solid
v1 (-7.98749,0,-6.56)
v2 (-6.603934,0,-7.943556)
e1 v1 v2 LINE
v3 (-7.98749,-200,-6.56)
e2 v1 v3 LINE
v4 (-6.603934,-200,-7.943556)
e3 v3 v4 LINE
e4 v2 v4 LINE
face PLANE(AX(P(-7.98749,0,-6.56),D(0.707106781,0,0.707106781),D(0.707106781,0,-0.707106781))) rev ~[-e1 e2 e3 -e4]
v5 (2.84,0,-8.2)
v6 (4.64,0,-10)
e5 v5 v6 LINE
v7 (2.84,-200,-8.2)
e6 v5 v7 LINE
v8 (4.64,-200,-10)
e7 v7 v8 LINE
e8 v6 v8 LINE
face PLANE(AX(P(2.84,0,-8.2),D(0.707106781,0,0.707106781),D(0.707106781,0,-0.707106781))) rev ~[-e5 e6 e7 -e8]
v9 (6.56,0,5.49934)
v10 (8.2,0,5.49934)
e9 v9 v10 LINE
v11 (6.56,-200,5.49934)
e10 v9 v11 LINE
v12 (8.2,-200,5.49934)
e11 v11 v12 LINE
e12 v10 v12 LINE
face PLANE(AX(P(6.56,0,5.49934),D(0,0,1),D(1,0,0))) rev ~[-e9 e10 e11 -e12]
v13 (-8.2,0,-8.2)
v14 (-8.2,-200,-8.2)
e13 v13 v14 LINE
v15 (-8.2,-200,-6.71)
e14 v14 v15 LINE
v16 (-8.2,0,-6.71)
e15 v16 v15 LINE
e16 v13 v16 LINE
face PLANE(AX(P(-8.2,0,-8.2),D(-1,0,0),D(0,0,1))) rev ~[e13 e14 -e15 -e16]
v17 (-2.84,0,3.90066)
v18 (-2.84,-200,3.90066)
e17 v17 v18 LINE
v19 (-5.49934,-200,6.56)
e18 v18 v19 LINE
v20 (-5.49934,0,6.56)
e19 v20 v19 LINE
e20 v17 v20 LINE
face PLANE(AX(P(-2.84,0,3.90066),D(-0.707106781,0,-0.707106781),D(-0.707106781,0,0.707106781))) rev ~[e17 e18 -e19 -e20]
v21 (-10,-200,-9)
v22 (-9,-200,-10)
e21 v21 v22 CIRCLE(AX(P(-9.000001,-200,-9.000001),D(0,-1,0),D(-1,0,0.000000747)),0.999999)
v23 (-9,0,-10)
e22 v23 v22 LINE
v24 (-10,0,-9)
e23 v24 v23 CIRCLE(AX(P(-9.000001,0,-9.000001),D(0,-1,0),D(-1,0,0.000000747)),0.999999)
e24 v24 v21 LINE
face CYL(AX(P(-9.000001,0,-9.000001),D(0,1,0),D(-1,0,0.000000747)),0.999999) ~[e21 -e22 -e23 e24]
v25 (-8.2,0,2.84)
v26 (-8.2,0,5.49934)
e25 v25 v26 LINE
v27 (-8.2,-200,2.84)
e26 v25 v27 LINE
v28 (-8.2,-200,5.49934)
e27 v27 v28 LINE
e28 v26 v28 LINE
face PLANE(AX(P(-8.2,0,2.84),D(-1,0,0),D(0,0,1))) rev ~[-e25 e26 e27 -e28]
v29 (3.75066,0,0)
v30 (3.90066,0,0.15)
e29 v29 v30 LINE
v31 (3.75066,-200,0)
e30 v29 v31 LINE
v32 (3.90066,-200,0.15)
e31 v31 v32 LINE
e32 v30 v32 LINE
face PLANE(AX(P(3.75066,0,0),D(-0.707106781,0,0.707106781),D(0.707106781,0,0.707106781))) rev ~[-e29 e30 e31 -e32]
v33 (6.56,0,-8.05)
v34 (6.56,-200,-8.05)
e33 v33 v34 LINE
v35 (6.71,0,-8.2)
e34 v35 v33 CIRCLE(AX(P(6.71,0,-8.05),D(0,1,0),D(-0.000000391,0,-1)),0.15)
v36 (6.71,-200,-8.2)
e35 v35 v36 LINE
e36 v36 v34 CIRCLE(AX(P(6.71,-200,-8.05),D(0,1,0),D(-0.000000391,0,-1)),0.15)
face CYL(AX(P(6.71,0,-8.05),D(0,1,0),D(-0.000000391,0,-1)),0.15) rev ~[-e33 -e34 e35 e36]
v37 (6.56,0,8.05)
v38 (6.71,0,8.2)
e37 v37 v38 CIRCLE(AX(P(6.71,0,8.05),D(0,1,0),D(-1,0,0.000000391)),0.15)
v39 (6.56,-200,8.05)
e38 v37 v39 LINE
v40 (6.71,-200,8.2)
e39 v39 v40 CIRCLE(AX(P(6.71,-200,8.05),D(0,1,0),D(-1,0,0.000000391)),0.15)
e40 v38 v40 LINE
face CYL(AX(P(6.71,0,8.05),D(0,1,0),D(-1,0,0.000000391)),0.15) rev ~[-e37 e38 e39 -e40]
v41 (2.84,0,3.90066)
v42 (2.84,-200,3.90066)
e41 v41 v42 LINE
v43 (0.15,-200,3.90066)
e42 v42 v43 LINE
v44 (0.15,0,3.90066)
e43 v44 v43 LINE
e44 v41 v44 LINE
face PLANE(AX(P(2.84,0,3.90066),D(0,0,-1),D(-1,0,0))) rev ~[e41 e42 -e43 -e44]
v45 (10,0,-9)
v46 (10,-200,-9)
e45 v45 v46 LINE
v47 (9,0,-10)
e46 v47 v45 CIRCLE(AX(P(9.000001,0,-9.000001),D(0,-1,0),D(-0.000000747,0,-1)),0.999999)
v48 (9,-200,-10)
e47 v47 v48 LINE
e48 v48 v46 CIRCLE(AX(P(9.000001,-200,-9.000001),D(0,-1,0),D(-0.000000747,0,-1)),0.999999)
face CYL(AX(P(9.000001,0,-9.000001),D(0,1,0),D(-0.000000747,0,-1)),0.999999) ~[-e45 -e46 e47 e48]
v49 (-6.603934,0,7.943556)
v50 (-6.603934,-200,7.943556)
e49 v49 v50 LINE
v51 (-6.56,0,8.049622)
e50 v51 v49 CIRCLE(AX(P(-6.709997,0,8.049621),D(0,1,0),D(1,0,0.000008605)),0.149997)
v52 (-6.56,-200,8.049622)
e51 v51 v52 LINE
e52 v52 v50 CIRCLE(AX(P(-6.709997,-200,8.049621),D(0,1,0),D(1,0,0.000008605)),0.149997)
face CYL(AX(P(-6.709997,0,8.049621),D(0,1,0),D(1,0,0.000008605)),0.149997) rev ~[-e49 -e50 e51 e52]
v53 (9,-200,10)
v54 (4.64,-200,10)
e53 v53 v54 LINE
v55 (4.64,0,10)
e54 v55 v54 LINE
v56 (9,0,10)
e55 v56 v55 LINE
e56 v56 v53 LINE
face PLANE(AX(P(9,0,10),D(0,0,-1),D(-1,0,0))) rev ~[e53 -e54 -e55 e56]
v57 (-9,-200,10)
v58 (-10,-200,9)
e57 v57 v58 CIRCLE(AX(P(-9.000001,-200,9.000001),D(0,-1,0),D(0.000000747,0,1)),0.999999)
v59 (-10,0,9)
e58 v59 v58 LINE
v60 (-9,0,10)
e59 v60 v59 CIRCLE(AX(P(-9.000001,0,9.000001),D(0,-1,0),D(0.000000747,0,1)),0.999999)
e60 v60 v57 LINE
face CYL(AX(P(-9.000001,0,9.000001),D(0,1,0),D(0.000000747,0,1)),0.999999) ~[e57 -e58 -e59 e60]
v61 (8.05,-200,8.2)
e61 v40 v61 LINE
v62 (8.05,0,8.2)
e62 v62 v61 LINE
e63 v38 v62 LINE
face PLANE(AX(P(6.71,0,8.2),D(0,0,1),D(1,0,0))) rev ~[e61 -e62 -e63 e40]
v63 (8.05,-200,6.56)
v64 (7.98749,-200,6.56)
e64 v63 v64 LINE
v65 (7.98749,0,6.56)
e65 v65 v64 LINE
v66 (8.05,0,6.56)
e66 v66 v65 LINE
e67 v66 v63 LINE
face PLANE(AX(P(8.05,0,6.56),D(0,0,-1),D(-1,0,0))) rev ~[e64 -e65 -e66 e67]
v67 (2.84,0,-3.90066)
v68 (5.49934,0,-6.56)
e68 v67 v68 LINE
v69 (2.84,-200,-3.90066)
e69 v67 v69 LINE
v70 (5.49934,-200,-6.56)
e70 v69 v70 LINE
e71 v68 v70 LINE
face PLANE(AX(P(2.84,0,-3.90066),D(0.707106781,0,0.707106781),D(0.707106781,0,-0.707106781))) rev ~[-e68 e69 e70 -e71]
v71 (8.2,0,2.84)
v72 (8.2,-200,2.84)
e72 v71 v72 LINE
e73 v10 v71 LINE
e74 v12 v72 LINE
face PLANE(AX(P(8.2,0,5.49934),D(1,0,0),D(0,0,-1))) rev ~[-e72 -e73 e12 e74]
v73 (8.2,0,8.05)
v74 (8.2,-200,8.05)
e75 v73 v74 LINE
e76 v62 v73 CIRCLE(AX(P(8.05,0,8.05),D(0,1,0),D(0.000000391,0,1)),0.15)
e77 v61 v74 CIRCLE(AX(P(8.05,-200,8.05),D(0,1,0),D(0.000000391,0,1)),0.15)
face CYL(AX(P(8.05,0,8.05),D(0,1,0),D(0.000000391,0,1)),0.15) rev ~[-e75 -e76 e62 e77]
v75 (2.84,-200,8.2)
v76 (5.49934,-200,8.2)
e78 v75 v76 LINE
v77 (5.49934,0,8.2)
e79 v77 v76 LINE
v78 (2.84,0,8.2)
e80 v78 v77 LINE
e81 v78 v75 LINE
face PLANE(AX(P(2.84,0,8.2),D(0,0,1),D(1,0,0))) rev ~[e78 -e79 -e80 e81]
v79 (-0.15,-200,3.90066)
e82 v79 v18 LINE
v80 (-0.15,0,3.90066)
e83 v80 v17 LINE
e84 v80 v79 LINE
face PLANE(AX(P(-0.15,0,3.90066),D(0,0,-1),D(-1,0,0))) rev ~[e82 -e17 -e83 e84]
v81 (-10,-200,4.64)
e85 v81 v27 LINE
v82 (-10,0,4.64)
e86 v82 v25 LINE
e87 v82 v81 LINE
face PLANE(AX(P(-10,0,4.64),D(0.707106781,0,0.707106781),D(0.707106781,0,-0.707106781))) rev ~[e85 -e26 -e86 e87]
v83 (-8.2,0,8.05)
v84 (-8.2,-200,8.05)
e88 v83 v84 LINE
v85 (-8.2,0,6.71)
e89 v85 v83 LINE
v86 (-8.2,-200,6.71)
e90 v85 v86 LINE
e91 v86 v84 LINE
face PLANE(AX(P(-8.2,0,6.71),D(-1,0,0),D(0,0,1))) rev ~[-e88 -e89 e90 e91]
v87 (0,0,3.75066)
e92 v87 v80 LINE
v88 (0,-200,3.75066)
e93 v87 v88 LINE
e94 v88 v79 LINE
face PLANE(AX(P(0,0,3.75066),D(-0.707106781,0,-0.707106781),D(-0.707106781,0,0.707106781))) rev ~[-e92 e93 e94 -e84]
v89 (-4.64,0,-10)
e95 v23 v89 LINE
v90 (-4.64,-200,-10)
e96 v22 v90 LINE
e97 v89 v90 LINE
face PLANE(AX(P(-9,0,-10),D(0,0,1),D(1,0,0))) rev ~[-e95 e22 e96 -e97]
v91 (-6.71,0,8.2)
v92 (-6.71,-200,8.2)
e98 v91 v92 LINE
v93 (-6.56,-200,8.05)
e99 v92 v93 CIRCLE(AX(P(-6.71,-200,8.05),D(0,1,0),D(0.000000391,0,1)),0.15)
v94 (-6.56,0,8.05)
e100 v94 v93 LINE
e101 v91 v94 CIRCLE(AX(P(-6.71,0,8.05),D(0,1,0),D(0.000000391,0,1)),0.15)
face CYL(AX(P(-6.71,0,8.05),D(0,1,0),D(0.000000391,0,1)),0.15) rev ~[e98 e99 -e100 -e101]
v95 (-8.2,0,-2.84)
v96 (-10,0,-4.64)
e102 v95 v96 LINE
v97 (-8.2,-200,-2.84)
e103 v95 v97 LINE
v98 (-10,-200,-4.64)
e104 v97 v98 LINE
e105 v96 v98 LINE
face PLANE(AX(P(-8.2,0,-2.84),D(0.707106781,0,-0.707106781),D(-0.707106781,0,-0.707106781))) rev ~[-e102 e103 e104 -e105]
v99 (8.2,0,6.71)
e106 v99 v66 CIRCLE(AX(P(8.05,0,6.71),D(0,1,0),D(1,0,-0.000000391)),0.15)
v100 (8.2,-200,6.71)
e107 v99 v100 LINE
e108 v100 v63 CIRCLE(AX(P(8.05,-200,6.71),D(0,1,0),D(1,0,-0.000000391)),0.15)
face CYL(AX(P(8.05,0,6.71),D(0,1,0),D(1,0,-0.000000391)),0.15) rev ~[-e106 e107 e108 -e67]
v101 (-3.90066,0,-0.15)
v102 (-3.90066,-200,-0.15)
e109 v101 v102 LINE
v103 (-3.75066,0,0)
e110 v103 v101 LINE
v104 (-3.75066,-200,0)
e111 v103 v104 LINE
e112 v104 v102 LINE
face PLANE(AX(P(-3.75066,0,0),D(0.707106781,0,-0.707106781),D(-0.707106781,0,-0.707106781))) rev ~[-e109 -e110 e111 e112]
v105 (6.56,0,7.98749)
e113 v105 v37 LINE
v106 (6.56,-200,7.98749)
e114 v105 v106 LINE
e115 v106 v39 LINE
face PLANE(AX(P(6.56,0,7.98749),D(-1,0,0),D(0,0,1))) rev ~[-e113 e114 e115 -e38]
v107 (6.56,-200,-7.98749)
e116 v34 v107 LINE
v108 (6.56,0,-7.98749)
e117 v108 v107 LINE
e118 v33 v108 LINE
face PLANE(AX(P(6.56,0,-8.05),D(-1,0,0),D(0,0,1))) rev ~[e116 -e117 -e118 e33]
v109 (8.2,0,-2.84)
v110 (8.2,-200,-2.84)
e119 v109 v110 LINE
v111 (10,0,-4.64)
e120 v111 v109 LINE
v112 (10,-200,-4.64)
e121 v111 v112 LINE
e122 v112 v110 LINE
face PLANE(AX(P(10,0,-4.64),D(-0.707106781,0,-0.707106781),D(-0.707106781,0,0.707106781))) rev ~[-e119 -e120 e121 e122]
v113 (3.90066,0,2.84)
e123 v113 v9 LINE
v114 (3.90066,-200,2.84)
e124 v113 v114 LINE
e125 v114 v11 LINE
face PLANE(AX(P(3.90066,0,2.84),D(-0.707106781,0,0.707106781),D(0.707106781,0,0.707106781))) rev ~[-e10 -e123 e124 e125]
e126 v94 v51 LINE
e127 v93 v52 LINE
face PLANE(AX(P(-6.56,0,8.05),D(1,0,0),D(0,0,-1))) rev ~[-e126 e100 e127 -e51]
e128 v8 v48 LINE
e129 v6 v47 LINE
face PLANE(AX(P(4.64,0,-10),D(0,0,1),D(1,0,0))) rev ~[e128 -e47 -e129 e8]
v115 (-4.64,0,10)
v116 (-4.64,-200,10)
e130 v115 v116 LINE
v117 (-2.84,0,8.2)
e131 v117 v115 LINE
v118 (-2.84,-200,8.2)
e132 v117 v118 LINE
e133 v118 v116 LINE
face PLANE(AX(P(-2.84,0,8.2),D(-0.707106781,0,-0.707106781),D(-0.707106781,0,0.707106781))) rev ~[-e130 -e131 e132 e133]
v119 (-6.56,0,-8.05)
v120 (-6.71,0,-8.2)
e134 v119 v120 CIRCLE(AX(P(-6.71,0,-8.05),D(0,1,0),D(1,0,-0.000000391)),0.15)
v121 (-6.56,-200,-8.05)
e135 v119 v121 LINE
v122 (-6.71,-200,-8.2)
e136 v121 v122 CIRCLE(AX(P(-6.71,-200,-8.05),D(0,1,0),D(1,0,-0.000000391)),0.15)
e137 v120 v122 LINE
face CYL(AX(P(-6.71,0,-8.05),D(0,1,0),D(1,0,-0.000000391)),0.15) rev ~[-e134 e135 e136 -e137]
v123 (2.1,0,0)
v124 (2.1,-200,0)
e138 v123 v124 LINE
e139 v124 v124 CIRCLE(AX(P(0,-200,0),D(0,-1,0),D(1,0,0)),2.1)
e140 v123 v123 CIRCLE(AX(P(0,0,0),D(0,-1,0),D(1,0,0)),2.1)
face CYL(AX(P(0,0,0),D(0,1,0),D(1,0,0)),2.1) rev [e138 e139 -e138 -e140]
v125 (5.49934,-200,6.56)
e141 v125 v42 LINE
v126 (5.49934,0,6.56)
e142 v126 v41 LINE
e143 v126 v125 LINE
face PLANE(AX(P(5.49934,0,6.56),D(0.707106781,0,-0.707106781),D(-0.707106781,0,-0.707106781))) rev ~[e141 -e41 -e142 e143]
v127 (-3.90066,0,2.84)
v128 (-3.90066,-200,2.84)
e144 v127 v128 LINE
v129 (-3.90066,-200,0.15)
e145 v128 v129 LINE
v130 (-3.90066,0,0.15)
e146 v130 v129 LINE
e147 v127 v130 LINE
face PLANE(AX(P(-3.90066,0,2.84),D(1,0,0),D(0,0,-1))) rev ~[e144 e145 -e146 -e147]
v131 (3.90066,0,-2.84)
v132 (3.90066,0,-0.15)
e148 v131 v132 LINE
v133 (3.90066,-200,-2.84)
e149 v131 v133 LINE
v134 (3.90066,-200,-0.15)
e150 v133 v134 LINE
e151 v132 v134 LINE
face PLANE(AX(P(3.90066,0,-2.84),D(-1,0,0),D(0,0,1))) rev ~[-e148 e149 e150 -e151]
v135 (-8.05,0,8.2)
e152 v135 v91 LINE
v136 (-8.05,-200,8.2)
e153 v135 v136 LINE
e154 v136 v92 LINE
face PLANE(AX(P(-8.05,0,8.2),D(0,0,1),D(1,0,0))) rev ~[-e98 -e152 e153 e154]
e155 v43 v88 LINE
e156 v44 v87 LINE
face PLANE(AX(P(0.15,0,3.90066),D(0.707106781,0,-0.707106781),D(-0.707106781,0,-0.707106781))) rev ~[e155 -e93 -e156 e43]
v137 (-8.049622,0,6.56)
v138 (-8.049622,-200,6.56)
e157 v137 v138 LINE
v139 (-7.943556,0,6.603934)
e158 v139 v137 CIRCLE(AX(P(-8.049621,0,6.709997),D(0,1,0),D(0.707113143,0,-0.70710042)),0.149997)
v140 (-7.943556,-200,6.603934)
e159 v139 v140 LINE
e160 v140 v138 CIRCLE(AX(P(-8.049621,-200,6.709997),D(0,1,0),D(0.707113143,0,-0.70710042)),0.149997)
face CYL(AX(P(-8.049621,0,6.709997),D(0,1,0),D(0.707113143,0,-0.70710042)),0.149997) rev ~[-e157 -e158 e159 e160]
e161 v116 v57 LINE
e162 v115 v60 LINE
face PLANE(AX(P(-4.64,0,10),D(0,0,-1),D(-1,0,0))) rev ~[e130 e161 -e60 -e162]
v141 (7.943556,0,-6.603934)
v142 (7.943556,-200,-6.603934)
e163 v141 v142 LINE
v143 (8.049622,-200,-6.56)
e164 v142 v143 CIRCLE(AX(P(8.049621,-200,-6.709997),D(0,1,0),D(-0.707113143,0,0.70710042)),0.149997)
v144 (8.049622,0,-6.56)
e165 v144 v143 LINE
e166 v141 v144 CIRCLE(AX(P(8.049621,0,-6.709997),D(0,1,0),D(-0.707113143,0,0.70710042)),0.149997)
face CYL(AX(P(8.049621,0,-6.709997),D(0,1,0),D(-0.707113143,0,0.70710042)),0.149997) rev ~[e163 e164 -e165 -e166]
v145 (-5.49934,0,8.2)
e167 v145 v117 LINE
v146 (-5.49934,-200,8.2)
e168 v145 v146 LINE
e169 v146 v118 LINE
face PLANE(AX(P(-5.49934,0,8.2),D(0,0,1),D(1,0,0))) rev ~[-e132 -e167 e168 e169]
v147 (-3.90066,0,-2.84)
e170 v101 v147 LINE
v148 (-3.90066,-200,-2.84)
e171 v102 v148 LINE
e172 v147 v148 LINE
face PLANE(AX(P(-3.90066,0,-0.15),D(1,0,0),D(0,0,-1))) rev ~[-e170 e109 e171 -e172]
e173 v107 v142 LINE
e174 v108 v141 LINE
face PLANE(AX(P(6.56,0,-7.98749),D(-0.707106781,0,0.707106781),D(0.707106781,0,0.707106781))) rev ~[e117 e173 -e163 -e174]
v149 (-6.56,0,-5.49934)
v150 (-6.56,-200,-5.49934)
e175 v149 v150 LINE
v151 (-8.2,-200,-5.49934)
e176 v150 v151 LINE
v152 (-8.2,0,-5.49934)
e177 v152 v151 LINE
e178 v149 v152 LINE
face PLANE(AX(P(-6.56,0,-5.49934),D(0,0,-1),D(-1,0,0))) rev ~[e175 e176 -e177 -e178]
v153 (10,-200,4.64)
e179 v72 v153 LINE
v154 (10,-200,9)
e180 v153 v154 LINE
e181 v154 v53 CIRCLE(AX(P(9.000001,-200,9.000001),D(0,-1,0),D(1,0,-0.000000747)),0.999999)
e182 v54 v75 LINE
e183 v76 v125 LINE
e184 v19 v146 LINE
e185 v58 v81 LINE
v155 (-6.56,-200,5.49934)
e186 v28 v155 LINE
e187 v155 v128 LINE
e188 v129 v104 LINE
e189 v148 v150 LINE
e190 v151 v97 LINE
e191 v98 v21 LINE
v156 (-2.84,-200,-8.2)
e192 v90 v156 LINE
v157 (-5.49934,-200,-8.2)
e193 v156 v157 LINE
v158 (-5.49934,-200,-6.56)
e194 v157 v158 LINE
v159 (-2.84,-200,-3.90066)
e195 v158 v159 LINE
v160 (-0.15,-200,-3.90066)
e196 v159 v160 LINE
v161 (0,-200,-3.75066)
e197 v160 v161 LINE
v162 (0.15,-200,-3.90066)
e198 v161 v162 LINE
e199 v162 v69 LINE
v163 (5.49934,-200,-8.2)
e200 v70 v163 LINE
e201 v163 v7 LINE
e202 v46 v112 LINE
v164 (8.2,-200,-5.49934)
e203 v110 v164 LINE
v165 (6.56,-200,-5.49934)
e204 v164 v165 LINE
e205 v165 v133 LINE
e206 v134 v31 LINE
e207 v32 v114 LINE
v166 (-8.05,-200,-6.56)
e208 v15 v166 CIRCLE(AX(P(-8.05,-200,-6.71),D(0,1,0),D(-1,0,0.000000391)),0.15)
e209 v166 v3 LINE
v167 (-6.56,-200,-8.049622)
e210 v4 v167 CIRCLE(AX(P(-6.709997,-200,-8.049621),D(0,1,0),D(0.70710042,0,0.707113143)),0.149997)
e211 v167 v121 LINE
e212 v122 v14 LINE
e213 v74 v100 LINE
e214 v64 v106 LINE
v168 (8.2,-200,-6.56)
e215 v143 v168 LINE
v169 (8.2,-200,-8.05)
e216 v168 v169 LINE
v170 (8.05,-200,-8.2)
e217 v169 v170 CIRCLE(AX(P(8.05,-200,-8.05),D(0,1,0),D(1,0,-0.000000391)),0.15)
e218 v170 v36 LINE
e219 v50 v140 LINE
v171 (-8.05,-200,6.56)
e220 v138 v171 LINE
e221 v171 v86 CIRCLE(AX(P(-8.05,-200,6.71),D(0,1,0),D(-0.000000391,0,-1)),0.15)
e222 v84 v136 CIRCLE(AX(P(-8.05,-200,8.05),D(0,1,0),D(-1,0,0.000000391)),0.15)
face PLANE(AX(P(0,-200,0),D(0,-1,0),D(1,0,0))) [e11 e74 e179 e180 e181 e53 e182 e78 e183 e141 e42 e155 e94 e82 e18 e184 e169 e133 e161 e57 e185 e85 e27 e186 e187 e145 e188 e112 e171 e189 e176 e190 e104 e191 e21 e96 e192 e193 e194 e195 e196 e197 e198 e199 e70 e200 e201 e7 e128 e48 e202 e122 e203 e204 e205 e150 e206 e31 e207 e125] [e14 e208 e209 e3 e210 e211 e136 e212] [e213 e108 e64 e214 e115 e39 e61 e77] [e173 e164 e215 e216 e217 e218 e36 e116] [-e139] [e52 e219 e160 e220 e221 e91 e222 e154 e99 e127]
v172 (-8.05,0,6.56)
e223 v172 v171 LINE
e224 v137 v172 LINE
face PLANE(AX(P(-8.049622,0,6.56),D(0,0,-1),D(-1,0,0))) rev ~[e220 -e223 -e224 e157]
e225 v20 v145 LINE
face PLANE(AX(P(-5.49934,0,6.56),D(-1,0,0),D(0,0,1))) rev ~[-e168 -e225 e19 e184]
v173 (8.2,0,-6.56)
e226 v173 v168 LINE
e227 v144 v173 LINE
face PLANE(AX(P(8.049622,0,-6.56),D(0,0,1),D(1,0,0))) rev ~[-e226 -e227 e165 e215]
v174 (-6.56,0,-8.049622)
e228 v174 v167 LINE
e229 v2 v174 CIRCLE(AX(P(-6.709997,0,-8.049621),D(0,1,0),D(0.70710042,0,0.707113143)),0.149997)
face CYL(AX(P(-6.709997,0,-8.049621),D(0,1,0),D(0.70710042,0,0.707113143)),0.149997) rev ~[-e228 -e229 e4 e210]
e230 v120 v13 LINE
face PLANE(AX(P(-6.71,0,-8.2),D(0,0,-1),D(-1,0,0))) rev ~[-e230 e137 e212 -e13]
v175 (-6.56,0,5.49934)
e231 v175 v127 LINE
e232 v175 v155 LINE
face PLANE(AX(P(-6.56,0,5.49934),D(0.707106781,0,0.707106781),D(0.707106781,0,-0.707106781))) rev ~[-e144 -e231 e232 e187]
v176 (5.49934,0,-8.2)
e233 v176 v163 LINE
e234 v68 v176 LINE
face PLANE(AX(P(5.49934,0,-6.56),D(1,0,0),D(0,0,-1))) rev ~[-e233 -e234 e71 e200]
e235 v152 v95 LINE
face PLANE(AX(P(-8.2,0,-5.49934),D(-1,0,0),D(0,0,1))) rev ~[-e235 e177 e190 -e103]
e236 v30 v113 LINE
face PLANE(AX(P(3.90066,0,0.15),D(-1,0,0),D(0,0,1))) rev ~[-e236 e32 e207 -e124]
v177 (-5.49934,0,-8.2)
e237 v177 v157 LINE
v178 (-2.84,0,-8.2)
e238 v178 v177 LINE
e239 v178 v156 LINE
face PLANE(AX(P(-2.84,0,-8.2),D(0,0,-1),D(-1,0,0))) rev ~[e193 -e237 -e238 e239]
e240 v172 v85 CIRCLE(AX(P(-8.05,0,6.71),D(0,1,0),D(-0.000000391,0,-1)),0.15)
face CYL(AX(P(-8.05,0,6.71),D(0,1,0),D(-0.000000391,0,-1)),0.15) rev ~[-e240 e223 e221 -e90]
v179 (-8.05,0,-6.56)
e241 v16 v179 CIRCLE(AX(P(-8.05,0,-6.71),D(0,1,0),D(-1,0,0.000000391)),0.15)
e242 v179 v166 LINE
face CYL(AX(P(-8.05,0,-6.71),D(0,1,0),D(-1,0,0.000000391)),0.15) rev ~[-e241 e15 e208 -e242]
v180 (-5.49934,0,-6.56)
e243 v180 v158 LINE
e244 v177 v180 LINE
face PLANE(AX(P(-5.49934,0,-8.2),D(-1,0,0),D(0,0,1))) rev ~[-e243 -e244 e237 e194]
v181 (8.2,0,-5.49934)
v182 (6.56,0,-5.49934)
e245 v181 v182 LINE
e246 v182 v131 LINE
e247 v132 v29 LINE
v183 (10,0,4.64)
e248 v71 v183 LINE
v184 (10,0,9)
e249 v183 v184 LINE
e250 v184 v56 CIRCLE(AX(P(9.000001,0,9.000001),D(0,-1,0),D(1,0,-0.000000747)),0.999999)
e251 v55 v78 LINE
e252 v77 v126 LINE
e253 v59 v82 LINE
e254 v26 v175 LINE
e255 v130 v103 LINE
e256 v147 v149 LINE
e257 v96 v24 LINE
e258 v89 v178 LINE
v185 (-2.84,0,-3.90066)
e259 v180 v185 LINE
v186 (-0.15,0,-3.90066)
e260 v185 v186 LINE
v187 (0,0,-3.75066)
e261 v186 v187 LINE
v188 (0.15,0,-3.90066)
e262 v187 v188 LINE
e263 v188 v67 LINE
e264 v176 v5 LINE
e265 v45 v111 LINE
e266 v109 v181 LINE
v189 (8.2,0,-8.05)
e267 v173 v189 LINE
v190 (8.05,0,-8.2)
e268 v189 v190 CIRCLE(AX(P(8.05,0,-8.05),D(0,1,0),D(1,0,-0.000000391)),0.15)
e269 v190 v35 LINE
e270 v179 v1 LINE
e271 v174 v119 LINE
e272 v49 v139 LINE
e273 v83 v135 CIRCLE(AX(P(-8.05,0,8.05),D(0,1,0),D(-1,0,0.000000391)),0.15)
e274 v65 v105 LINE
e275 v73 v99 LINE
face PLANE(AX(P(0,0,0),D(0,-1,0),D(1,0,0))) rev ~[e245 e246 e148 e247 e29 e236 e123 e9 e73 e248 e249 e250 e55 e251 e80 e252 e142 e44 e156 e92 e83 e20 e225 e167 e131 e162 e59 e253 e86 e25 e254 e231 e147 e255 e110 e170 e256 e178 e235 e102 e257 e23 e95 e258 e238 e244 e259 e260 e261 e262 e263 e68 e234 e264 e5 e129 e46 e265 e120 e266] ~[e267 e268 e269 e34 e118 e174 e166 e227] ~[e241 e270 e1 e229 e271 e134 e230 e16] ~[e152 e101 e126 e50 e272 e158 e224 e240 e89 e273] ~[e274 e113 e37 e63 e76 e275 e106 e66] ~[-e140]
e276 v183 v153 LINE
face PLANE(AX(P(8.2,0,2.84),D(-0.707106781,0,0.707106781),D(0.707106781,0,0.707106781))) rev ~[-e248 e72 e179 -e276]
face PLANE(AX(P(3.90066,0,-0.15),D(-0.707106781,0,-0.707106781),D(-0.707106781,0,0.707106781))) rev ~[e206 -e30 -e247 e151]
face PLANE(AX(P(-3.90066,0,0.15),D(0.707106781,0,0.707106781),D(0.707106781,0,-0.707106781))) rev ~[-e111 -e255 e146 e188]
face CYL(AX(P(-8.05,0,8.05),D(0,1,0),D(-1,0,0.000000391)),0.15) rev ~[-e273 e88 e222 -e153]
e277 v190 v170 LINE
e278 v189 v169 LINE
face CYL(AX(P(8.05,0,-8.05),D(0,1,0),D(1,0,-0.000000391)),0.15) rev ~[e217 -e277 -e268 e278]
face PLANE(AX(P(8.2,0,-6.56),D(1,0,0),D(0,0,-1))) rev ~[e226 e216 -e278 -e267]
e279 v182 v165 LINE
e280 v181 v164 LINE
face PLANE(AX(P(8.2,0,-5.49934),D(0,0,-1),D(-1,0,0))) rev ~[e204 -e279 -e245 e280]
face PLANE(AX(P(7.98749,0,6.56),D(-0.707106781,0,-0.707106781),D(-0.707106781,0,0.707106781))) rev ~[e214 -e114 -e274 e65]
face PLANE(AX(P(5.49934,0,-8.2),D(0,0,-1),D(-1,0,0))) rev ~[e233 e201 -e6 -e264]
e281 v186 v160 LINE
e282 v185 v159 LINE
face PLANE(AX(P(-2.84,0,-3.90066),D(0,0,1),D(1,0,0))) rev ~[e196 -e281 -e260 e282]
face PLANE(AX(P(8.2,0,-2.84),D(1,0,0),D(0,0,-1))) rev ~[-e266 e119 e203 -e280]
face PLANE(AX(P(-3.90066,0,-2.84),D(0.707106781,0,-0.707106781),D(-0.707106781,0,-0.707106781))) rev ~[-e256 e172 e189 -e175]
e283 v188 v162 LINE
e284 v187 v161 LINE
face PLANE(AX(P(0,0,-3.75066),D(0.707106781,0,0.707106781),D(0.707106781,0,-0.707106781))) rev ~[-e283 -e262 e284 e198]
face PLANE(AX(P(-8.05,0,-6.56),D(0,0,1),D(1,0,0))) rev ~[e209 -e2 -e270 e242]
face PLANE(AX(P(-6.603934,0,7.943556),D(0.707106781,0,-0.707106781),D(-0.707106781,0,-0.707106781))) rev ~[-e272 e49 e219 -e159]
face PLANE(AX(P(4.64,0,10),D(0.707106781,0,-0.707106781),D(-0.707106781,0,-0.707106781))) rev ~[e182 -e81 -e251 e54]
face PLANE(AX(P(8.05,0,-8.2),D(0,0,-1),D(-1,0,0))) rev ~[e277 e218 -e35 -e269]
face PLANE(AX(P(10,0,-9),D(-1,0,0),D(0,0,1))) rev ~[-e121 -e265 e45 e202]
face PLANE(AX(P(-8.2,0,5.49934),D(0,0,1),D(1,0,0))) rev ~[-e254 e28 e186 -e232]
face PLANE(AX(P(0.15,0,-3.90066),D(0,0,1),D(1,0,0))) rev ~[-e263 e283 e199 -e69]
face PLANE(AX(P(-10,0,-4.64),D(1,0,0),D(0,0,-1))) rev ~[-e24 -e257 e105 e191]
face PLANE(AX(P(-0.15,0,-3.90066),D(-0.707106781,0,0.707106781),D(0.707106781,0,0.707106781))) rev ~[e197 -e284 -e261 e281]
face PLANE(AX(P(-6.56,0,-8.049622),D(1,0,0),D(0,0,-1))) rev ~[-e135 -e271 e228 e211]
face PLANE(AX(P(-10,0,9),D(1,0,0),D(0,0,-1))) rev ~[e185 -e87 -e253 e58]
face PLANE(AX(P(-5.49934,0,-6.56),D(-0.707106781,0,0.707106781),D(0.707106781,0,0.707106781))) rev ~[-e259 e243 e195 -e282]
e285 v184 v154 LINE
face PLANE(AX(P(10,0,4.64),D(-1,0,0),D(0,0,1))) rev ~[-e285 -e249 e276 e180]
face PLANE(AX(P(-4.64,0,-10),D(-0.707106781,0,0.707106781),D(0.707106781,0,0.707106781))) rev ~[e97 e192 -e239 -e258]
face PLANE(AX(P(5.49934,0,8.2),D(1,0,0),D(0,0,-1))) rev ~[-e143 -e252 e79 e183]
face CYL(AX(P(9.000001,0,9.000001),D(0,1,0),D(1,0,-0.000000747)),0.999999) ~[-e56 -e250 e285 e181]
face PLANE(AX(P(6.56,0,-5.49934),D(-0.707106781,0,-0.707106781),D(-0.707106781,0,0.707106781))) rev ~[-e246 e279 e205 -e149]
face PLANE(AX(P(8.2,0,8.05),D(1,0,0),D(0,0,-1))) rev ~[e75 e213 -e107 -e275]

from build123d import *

# Parameters (mm, degrees)
F0_R     = 2.1
F1_DEPTH = 200


with BuildPart() as f1:
    # F0 (on Front) → F1 (new body)
    with BuildSketch(Plane.XZ):
        with BuildLine():
            Line((-4.64, 10), (-9, 10))
            ThreePointArc((-9, 10), (-9.707107, 9.707107), (-10, 9))
            Line((-10, 9), (-10, 4.64))
            Line((-10, 4.64), (-8.2, 2.84))
            Line((-8.2, 2.84), (-8.2, 5.49934))
            Line((-8.2, 5.49934), (-6.56, 5.49934))
            Line((-6.56, 5.49934), (-3.90066, 2.84))
            Line((-3.90066, 2.84), (-3.90066, 0.15))
            Line((-3.90066, 0.15), (-3.75066, 0))
            Line((-3.75066, 0), (-3.90066, -0.15))
            Line((-3.90066, -0.15), (-3.90066, -2.84))
            Line((-3.90066, -2.84), (-6.56, -5.49934))
            Line((-6.56, -5.49934), (-8.2, -5.49934))
            Line((-8.2, -5.49934), (-8.2, -2.84))
            Line((-8.2, -2.84), (-10, -4.64))
            Line((-10, -4.64), (-10, -9))
            ThreePointArc((-10, -9), (-9.707107, -9.707107), (-9, -10))
            Line((-9, -10), (-4.64, -10))
            Line((-4.64, -10), (-2.84, -8.2))
            Line((-2.84, -8.2), (-5.49934, -8.2))
            Line((-5.49934, -8.2), (-5.49934, -6.56))
            Line((-5.49934, -6.56), (-2.84, -3.90066))
            Line((-2.84, -3.90066), (-0.15, -3.90066))
            Line((-0.15, -3.90066), (0, -3.75066))
            Line((0, -3.75066), (0.15, -3.90066))
            Line((0.15, -3.90066), (2.84, -3.90066))
            Line((2.84, -3.90066), (5.49934, -6.56))
            Line((5.49934, -6.56), (5.49934, -8.2))
            Line((5.49934, -8.2), (2.84, -8.2))
            Line((2.84, -8.2), (4.64, -10))
            Line((4.64, -10), (9, -10))
            ThreePointArc((9, -10), (9.707107, -9.707107), (10, -9))
            Line((10, -9), (10, -4.64))
            Line((10, -4.64), (8.2, -2.84))
            Line((8.2, -2.84), (8.2, -5.49934))
            Line((8.2, -5.49934), (6.56, -5.49934))
            Line((6.56, -5.49934), (3.90066, -2.84))
            Line((3.90066, -2.84), (3.90066, -0.15))
            Line((3.90066, -0.15), (3.75066, 0))
            Line((3.75066, 0), (3.90066, 0.15))
            Line((3.90066, 0.15), (3.90066, 2.84))
            Line((3.90066, 2.84), (6.56, 5.49934))
            Line((6.56, 5.49934), (8.2, 5.49934))
            Line((8.2, 5.49934), (8.2, 2.84))
            Line((8.2, 2.84), (10, 4.64))
            Line((10, 4.64), (10, 9))
            ThreePointArc((10, 9), (9.707107, 9.707107), (9, 10))
            Line((9, 10), (4.64, 10))
            Line((4.64, 10), (2.84, 8.2))
            Line((2.84, 8.2), (5.49934, 8.2))
            Line((5.49934, 8.2), (5.49934, 6.56))
            Line((5.49934, 6.56), (2.84, 3.90066))
            Line((2.84, 3.90066), (0.15, 3.90066))
            Line((0.15, 3.90066), (0, 3.75066))
            Line((0, 3.75066), (-0.15, 3.90066))
            Line((-0.15, 3.90066), (-2.84, 3.90066))
            Line((-2.84, 3.90066), (-5.49934, 6.56))
            Line((-5.49934, 6.56), (-5.49934, 8.2))
            Line((-5.49934, 8.2), (-2.84, 8.2))
            Line((-2.84, 8.2), (-4.64, 10))
        make_face()
        with BuildLine():
            Line((-8.2, -8.2), (-8.2, -6.71))
            ThreePointArc((-8.2, -6.71), (-8.156066, -6.603934), (-8.05, -6.56))
            Line((-8.05, -6.56), (-7.98749, -6.56))
            Line((-7.98749, -6.56), (-6.603934, -7.943556))
            ThreePointArc((-6.603934, -7.943556), (-6.571418, -7.992219), (-6.56, -8.049622))
            Line((-6.56, -8.049622), (-6.56, -8.05))
            ThreePointArc((-6.56, -8.05), (-6.603934, -8.156066), (-6.71, -8.2))
            Line((-6.71, -8.2), (-8.2, -8.2))
        make_face(mode=Mode.SUBTRACT)
        with BuildLine():
            ThreePointArc((6.71, -8.2), (6.603934, -8.156066), (6.56, -8.05))
            Line((6.56, -8.05), (6.56, -7.98749))
            Line((6.56, -7.98749), (7.943556, -6.603934))
            ThreePointArc((7.943556, -6.603934), (7.992219, -6.571418), (8.049622, -6.56))
            Line((8.049622, -6.56), (8.2, -6.56))
            Line((8.2, -6.56), (8.2, -8.05))
            ThreePointArc((8.2, -8.05), (8.156066, -8.156066), (8.05, -8.2))
            Line((8.05, -8.2), (6.71, -8.2))
        make_face(mode=Mode.SUBTRACT)
        with BuildLine():
            ThreePointArc((-8.2, 8.05), (-8.156066, 8.156066), (-8.05, 8.2))
            Line((-8.05, 8.2), (-6.71, 8.2))
            ThreePointArc((-6.71, 8.2), (-6.603934, 8.156066), (-6.56, 8.05))
            Line((-6.56, 8.05), (-6.56, 8.049622))
            ThreePointArc((-6.56, 8.049622), (-6.571418, 7.992219), (-6.603934, 7.943556))
            Line((-6.603934, 7.943556), (-7.943556, 6.603934))
            ThreePointArc((-7.943556, 6.603934), (-7.992219, 6.571418), (-8.049622, 6.56))
            Line((-8.049622, 6.56), (-8.05, 6.56))
            ThreePointArc((-8.05, 6.56), (-8.156066, 6.603934), (-8.2, 6.71))
            Line((-8.2, 6.71), (-8.2, 8.05))
        make_face(mode=Mode.SUBTRACT)
        Circle(F0_R, mode=Mode.SUBTRACT)
        with BuildLine():
            Line((8.2, 8.05), (8.2, 6.71))
            ThreePointArc((8.2, 6.71), (8.156066, 6.603934), (8.05, 6.56))
            Line((8.05, 6.56), (7.98749, 6.56))
            Line((7.98749, 6.56), (6.56, 7.98749))
            Line((6.56, 7.98749), (6.56, 8.05))
            ThreePointArc((6.56, 8.05), (6.603934, 8.156066), (6.71, 8.2))
            Line((6.71, 8.2), (8.05, 8.2))
            ThreePointArc((8.05, 8.2), (8.156066, 8.156066), (8.2, 8.05))
        make_face(mode=Mode.SUBTRACT)
    extrude(amount=F1_DEPTH)


solid = f1.part
